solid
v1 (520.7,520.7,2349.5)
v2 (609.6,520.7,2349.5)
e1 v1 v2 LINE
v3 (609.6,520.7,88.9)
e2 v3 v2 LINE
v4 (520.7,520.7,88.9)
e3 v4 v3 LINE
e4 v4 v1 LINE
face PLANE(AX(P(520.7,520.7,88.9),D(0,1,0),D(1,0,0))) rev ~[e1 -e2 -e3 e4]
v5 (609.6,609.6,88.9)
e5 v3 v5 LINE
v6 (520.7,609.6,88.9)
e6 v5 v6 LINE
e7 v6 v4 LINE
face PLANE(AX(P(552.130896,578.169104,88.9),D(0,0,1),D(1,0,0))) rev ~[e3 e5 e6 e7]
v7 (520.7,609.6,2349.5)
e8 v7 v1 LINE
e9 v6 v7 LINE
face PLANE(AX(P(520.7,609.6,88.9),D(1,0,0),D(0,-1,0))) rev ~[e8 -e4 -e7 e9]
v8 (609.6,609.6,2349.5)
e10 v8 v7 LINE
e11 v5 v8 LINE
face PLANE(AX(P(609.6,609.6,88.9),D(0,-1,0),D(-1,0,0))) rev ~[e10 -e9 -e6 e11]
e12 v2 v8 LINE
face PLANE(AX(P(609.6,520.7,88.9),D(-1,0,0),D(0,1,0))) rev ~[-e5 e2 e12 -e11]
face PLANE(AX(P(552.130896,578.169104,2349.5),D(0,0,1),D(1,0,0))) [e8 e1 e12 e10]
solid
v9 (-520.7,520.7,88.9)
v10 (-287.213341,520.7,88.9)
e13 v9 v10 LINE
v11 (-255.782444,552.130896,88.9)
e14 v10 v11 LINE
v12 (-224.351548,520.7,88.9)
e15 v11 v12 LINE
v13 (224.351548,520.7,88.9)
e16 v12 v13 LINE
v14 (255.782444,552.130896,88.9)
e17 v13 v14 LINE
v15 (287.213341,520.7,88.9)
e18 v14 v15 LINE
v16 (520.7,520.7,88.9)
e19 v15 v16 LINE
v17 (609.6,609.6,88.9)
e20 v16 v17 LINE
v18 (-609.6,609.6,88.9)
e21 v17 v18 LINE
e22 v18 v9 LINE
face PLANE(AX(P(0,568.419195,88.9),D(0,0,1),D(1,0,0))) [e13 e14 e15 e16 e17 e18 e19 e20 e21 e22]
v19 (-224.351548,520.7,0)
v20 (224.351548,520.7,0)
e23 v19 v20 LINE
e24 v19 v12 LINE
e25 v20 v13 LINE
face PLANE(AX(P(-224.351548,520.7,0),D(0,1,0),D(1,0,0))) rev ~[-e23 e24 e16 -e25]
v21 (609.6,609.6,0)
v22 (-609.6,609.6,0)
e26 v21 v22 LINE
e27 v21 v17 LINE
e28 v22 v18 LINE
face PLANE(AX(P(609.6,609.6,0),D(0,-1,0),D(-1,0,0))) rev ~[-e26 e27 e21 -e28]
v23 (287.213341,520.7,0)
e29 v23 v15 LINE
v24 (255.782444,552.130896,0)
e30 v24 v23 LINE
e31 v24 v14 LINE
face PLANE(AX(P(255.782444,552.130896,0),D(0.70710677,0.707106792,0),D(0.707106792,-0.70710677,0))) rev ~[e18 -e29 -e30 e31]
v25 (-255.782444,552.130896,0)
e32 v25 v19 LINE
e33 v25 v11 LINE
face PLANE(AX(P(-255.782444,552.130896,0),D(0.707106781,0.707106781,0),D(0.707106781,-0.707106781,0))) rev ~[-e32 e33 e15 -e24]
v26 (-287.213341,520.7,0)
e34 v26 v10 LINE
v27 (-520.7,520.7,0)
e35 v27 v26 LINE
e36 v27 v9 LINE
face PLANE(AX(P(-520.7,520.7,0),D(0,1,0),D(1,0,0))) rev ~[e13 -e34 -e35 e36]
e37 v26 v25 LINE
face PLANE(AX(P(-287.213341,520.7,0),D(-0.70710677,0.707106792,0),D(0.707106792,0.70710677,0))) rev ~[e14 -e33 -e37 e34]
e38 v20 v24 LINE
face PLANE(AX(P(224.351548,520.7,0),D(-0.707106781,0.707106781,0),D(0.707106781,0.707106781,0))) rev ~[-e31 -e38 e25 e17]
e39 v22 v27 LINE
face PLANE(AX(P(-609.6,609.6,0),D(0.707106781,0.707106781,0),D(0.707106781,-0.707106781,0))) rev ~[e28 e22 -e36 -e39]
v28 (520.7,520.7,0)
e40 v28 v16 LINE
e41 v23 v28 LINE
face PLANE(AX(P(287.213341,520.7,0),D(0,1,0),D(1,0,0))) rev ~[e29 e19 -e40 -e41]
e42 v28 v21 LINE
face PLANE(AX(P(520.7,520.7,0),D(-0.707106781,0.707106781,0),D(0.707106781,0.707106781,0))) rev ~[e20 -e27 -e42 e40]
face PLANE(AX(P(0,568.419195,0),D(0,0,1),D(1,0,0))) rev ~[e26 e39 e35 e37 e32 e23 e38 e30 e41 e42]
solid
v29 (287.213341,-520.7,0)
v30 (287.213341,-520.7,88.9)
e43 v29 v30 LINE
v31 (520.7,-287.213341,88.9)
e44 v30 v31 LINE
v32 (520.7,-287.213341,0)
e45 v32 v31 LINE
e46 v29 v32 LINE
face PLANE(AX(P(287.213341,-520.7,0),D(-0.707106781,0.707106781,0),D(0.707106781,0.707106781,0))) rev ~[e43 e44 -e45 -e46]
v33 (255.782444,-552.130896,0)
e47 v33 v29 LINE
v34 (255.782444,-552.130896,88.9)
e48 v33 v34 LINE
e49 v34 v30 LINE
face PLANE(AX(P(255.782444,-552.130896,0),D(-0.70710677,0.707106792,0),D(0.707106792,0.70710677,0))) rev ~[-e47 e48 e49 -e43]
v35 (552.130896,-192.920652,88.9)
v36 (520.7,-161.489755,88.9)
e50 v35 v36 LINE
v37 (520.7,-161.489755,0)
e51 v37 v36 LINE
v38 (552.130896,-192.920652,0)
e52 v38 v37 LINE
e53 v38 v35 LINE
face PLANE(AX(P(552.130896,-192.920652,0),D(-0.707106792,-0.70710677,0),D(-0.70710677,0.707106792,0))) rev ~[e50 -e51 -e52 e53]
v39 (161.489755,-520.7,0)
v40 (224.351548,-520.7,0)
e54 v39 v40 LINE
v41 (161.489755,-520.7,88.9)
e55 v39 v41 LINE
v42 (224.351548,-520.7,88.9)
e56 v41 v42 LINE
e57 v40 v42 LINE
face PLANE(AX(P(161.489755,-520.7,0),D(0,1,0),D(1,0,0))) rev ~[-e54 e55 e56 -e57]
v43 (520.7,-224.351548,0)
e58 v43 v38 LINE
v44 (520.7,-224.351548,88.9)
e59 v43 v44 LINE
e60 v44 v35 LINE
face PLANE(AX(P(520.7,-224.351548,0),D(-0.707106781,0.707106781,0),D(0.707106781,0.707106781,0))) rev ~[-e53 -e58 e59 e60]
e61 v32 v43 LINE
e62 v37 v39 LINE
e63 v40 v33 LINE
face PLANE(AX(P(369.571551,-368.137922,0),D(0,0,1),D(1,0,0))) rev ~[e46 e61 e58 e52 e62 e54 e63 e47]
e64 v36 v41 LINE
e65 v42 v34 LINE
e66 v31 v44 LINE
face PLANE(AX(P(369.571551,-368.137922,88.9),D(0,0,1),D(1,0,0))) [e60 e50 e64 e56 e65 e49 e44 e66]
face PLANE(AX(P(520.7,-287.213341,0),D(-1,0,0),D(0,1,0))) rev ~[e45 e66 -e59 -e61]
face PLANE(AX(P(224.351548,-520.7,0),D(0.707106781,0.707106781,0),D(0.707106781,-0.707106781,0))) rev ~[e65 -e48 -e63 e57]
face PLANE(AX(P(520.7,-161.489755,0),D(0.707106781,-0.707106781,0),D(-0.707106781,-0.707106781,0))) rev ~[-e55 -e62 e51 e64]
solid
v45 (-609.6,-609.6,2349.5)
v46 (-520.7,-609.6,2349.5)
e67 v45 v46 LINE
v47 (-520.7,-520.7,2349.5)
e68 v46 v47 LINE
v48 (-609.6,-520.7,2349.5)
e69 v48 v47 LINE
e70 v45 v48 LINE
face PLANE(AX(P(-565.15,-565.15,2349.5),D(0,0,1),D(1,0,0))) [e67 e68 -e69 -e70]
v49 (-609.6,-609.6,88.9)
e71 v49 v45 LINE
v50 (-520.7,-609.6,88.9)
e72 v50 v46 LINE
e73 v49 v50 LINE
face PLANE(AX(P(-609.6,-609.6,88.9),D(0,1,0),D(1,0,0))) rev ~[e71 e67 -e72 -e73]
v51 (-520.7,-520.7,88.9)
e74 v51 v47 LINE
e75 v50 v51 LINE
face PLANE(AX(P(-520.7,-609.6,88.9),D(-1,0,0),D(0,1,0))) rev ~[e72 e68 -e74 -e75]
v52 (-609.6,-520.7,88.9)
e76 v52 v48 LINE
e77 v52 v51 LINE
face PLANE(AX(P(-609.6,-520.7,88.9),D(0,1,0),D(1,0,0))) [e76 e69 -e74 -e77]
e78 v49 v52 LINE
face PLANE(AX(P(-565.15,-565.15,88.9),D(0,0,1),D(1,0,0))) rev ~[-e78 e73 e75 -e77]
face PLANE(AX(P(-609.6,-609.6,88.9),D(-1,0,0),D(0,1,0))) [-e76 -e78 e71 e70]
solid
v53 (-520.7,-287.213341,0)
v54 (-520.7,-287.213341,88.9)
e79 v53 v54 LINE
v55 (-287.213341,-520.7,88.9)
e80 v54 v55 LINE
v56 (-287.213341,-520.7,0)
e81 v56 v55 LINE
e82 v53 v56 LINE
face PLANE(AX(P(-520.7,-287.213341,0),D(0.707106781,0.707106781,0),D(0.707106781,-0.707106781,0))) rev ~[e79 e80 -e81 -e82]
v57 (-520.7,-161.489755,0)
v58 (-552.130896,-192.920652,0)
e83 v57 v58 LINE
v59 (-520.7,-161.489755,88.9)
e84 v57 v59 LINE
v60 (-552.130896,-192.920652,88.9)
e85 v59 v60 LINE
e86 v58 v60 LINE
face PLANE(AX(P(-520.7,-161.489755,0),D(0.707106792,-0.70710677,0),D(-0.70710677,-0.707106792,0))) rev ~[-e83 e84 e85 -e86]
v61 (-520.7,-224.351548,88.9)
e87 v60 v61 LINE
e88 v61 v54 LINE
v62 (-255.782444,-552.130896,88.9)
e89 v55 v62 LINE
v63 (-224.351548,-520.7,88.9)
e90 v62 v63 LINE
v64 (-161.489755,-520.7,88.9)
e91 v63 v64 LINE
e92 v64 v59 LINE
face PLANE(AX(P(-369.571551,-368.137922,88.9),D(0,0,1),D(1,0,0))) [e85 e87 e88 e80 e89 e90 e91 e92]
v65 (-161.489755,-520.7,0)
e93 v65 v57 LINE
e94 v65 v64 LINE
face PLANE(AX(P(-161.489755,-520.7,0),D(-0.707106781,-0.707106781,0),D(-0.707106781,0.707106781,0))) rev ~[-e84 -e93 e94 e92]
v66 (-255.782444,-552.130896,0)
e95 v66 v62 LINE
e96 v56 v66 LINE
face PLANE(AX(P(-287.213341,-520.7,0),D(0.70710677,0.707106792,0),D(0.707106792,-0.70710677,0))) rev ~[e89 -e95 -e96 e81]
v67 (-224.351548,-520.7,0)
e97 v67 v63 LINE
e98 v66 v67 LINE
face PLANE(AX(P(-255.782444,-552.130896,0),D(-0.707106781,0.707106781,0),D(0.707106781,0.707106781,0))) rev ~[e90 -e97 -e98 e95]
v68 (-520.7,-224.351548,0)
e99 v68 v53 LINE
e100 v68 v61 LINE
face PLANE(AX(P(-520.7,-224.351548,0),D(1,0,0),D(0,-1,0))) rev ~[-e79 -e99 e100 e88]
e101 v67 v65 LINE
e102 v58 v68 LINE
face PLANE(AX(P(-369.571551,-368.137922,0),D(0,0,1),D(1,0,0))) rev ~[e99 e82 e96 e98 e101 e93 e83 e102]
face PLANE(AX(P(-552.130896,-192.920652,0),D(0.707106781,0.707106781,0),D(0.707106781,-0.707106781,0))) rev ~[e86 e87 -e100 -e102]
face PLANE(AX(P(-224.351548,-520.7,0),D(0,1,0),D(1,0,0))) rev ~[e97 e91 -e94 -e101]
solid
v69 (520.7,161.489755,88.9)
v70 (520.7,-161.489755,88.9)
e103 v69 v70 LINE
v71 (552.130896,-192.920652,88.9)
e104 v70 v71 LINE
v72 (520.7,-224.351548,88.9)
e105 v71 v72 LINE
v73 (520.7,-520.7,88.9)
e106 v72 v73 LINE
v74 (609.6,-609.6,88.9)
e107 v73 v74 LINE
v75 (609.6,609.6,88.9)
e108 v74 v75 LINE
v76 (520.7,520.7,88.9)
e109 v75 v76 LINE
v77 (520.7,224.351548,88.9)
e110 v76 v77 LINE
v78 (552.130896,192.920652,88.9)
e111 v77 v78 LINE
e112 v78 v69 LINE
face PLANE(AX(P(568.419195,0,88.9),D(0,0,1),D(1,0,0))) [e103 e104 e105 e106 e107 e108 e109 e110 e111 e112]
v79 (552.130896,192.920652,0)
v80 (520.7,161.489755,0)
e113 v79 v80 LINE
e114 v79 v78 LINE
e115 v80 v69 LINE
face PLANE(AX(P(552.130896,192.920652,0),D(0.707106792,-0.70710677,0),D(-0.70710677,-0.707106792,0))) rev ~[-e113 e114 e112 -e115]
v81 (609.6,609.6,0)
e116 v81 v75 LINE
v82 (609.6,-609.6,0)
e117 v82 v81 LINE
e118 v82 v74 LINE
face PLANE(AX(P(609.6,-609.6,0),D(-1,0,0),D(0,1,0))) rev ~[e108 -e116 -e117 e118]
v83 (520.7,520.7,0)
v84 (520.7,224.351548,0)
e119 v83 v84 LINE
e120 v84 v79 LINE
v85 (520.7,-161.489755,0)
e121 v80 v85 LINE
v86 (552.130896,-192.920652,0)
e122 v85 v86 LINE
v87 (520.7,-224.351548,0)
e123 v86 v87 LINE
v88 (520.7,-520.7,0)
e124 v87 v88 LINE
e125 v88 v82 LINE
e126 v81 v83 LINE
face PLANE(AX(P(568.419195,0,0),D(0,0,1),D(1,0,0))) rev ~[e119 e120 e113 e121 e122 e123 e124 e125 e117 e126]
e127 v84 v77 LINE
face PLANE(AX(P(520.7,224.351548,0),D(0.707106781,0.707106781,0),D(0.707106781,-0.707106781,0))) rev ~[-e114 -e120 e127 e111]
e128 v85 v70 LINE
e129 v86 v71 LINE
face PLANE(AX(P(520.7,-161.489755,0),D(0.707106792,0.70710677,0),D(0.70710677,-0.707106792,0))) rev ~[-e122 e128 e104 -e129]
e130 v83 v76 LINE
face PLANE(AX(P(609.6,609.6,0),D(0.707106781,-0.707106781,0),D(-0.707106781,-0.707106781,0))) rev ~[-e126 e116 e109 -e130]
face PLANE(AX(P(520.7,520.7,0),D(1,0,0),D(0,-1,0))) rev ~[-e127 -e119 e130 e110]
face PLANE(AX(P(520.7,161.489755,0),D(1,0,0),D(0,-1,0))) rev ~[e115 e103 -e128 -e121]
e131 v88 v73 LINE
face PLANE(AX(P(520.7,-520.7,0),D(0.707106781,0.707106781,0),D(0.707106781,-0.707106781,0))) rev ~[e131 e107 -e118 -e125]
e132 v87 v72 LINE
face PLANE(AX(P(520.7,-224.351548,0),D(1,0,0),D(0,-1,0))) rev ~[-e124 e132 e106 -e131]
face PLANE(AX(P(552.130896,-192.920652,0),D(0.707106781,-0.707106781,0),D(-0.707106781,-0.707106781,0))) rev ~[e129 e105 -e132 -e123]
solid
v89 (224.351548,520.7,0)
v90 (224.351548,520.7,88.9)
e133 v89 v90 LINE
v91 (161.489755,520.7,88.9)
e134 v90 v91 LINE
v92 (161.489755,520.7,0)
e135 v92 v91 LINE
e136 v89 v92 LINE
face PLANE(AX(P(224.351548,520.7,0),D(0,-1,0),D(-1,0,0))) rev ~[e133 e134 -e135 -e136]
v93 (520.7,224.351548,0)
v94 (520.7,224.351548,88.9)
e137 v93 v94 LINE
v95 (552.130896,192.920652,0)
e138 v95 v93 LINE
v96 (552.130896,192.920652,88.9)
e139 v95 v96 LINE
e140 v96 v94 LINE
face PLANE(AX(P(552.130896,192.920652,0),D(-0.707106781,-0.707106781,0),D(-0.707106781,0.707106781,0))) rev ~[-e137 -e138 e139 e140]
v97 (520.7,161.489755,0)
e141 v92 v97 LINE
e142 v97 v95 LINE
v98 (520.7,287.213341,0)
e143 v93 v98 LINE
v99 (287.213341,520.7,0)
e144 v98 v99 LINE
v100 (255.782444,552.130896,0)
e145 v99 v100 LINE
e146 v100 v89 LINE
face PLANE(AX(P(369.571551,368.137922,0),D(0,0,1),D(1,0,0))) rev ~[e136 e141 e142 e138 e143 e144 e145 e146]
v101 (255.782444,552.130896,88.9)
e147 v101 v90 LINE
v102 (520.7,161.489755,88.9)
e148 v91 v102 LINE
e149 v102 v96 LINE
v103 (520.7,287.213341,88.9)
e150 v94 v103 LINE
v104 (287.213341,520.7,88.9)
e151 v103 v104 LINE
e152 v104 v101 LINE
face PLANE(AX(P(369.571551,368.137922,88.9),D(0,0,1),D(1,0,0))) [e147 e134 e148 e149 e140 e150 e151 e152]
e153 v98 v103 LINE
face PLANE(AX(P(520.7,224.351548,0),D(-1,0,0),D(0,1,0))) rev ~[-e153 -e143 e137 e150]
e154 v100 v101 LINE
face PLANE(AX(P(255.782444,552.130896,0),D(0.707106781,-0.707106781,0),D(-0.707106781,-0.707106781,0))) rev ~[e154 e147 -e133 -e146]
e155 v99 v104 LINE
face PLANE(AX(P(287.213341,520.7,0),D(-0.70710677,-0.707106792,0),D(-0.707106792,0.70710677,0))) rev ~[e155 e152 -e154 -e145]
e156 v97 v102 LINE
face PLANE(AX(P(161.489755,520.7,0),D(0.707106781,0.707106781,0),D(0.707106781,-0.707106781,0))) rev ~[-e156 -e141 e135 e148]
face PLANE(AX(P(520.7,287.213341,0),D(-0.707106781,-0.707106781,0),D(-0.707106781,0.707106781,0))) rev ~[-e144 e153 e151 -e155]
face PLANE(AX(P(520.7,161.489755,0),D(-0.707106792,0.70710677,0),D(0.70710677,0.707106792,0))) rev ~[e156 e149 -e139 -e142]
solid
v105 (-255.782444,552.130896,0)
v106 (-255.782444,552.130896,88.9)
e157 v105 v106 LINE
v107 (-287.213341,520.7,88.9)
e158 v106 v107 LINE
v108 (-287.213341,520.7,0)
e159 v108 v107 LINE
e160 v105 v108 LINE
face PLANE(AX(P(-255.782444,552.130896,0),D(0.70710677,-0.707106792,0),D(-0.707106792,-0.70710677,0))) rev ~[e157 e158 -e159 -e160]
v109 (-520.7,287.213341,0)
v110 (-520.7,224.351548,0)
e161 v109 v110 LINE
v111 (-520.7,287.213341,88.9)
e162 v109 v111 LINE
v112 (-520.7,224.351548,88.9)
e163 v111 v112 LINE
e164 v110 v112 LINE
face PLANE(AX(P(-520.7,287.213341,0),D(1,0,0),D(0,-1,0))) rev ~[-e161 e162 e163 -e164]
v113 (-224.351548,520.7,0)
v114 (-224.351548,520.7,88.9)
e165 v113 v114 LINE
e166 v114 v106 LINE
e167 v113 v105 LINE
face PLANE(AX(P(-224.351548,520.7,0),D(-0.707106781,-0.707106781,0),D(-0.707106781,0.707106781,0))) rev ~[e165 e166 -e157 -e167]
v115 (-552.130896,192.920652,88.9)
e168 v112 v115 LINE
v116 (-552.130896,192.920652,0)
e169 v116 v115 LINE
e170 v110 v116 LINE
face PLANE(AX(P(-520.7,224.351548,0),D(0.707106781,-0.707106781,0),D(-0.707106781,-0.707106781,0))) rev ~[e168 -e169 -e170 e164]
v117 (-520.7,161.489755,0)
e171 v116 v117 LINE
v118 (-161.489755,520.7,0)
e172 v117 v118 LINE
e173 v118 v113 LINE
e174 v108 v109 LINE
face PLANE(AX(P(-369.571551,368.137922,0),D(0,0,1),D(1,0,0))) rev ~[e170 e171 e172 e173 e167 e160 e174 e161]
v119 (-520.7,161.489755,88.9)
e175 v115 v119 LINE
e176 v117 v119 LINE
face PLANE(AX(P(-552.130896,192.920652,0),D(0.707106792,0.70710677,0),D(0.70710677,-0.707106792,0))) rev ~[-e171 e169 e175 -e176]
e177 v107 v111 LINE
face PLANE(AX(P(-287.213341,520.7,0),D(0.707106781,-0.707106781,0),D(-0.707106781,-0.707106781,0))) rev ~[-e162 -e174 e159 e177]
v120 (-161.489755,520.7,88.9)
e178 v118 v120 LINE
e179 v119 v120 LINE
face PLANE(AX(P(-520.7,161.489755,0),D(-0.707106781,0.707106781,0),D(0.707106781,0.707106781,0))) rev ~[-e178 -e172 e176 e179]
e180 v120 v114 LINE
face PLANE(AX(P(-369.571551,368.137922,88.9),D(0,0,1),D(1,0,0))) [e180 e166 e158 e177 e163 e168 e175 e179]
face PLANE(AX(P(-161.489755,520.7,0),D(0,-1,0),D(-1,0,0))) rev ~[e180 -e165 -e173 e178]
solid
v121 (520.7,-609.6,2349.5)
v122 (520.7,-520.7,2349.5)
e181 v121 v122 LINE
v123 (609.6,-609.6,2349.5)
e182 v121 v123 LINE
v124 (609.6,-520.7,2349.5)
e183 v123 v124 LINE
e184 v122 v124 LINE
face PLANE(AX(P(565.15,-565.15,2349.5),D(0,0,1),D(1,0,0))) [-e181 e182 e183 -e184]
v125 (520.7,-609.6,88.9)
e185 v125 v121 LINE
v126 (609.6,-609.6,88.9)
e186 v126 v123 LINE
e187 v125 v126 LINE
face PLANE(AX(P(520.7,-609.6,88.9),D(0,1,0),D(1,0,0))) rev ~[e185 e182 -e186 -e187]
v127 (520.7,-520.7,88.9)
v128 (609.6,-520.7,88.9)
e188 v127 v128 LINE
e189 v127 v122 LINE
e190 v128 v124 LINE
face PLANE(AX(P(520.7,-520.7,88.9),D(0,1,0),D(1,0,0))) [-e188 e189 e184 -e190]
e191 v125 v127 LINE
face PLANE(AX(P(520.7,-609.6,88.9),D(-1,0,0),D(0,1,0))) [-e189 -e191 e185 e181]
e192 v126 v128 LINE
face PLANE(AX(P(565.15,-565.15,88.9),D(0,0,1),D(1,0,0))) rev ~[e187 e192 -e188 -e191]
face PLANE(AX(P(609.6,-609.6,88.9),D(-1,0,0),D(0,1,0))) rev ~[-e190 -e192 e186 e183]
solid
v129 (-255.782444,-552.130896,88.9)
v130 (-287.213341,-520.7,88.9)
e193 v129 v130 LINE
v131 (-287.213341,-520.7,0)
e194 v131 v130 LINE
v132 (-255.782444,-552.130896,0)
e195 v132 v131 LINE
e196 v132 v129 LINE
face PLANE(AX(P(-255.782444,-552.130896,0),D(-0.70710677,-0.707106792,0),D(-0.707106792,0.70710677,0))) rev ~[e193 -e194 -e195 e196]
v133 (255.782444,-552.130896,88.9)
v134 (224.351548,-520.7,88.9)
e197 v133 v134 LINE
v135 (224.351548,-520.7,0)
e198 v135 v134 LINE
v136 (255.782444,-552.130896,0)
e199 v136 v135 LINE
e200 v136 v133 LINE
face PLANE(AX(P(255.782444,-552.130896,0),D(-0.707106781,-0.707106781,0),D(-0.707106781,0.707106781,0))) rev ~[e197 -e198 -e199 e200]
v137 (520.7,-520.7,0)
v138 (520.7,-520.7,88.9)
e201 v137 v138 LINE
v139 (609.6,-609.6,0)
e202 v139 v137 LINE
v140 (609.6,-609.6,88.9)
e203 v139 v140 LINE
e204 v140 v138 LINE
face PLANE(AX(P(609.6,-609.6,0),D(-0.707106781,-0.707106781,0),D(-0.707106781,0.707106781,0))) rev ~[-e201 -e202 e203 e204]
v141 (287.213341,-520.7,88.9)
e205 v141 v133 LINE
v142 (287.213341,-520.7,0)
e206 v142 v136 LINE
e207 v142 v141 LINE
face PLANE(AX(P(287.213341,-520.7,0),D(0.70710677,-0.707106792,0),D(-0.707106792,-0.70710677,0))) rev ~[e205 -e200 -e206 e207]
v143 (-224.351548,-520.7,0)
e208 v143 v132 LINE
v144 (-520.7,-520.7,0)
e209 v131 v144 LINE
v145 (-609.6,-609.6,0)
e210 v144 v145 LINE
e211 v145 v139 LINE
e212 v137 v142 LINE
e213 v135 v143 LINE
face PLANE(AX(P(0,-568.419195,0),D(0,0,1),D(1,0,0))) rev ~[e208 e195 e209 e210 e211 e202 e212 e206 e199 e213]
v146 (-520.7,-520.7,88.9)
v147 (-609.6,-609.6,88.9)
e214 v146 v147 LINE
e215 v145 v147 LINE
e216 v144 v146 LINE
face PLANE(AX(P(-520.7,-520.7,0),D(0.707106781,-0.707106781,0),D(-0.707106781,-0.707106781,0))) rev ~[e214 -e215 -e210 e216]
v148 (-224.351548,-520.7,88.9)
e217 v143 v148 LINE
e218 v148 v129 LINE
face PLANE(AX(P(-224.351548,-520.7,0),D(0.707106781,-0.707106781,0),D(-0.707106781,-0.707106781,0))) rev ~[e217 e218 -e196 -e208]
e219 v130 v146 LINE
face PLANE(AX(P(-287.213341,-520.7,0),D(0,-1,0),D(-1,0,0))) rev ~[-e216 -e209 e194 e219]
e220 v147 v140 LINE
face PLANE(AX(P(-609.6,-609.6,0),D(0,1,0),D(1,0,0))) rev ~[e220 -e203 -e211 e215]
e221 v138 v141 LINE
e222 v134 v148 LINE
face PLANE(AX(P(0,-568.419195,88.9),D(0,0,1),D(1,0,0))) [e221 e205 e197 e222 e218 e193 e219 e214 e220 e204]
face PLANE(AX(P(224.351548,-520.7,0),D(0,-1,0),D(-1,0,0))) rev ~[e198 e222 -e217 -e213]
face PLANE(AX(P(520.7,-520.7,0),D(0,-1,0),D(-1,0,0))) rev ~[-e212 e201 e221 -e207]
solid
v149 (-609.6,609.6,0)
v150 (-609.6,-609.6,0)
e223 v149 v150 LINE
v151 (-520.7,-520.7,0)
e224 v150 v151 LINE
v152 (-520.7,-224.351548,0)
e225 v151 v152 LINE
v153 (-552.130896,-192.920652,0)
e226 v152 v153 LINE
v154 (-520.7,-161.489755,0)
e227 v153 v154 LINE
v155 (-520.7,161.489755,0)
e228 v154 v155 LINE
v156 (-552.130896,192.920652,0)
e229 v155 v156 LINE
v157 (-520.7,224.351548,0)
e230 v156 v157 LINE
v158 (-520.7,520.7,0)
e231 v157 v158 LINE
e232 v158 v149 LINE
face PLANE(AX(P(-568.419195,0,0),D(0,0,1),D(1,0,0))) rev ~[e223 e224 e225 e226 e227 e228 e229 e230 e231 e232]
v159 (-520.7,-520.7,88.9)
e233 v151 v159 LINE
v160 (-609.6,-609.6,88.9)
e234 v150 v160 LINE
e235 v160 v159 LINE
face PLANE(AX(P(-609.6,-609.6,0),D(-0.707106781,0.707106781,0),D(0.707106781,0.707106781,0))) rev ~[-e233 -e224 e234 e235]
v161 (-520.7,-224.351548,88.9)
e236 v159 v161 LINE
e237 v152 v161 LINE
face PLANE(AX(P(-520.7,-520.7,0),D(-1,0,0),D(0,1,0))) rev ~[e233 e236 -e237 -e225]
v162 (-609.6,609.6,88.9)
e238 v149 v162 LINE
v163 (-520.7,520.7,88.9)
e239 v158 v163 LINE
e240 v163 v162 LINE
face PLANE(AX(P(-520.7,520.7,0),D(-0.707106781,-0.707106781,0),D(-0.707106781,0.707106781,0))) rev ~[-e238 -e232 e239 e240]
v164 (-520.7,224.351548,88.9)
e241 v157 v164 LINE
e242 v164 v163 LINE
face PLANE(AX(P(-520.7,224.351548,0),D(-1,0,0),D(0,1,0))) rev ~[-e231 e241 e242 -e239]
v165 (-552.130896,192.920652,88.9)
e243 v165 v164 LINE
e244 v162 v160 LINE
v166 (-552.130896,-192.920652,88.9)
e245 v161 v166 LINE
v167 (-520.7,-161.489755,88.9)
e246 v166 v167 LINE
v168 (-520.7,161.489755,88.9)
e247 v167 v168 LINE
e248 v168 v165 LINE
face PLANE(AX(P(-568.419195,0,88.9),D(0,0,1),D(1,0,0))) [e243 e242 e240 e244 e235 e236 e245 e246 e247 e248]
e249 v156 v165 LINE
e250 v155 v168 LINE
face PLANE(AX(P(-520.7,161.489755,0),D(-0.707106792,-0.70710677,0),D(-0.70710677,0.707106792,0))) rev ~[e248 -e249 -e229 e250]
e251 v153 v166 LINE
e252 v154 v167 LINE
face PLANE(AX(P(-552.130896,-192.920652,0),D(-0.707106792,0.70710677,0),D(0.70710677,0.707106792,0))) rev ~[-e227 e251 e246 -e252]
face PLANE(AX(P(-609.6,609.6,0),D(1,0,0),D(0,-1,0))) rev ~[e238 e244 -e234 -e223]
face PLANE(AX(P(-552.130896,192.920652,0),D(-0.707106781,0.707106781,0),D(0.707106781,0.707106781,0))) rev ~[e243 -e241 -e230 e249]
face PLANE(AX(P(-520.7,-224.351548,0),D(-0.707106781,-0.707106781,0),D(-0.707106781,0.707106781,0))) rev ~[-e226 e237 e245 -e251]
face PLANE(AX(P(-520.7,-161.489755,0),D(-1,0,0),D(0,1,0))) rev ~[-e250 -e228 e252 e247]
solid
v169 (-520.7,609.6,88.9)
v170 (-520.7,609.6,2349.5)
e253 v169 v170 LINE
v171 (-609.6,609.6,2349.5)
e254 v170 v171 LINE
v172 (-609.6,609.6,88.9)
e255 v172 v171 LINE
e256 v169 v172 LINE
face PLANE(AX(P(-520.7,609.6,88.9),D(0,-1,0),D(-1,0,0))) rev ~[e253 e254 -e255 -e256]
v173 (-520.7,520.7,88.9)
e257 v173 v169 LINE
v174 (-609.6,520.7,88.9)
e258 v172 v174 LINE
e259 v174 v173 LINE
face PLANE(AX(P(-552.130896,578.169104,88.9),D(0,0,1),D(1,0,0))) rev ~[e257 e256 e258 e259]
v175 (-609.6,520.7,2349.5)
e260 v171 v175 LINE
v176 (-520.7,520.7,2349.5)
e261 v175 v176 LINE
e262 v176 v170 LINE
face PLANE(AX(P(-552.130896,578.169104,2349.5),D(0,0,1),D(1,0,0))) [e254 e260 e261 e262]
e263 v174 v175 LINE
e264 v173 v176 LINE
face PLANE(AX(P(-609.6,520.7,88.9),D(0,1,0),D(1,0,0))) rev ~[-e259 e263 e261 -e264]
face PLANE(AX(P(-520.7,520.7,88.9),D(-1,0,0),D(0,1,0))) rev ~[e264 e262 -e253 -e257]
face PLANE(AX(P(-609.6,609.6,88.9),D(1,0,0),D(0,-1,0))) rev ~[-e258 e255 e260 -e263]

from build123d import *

# Parameters (mm, degrees)
F1_DEPTH  = 88.9
F2_DEPTH  = 88.9
F3_DEPTH  = 88.9
F4_DEPTH  = 88.9
F5_DEPTH  = 88.9
F6_DEPTH  = 88.9
F7_DEPTH  = 88.9
F8_DEPTH  = 88.9
F10_DEPTH = 2260.6
F11_DEPTH = 2260.6
F9_W      = 88.9
F9_H      = 88.9
F12_DEPTH = 2260.6
F13_DEPTH = 2260.6


with BuildPart() as f1:
    # F0 (on Top) → F1 (new body)
    with BuildSketch(Plane.XY):
        Polygon((520.7, 520.7), (609.6, 609.6), (-609.6, 609.6), (-520.7, 520.7), (-287.213341, 520.7), (-255.782444, 552.130896), (-224.351548, 520.7), (-161.489755, 520.7), (161.489755, 520.7), (224.351548, 520.7), (255.782444, 552.130896), (287.213341, 520.7), align=None)
    extrude(amount=F1_DEPTH)


with BuildPart() as f2:
    # F0 (on Top) → F2 (new body)
    with BuildSketch(Plane.XY):
        Polygon((-520.7, 520.7), (-609.6, 609.6), (-609.6, -609.6), (-520.7, -520.7), (-520.7, -287.213341), (-520.7, -224.351548), (-552.130896, -192.920652), (-520.7, -161.489755), (-520.7, 161.489755), (-552.130896, 192.920652), (-520.7, 224.351548), (-520.7, 287.213341), align=None)
    extrude(amount=F2_DEPTH)


with BuildPart() as f3:
    # F0 (on Top) → F3 (new body)
    with BuildSketch(Plane.XY):
        Polygon((-609.6, -609.6), (609.6, -609.6), (520.7, -520.7), (287.213341, -520.7), (255.782444, -552.130896), (224.351548, -520.7), (161.489755, -520.7), (-161.489755, -520.7), (-224.351548, -520.7), (-255.782444, -552.130896), (-287.213341, -520.7), (-520.7, -520.7), align=None)
    extrude(amount=F3_DEPTH)


with BuildPart() as f4:
    # F0 (on Top) → F4 (new body)
    with BuildSketch(Plane.XY):
        Polygon((609.6, -609.6), (609.6, 609.6), (520.7, 520.7), (520.7, 287.213341), (520.7, 224.351548), (552.130896, 192.920652), (520.7, 161.489755), (520.7, -161.489755), (552.130896, -192.920652), (520.7, -224.351548), (520.7, -287.213341), (520.7, -520.7), align=None)
    extrude(amount=F4_DEPTH)


with BuildPart() as f5:
    # F0 (on Top) → F5 (new body)
    with BuildSketch(Plane.XY):
        Polygon((-287.213341, 520.7), (-520.7, 287.213341), (-520.7, 224.351548), (-552.130896, 192.920652), (-520.7, 161.489755), (-161.489755, 520.7), (-224.351548, 520.7), (-255.782444, 552.130896), align=None)
    extrude(amount=F5_DEPTH)


with BuildPart() as f6:
    # F0 (on Top) → F6 (new body)
    with BuildSketch(Plane.XY):
        Polygon((520.7, 287.213341), (287.213341, 520.7), (255.782444, 552.130896), (224.351548, 520.7), (161.489755, 520.7), (520.7, 161.489755), (552.130896, 192.920652), (520.7, 224.351548), align=None)
    extrude(amount=F6_DEPTH)


with BuildPart() as f7:
    # F0 (on Top) → F7 (new body)
    with BuildSketch(Plane.XY):
        Polygon((-520.7, -287.213341), (-287.213341, -520.7), (-255.782444, -552.130896), (-224.351548, -520.7), (-161.489755, -520.7), (-520.7, -161.489755), (-552.130896, -192.920652), (-520.7, -224.351548), align=None)
    extrude(amount=F7_DEPTH)


with BuildPart() as f8:
    # F0 (on Top) → F8 (new body)
    with BuildSketch(Plane.XY):
        Polygon((255.782444, -552.130896), (287.213341, -520.7), (520.7, -287.213341), (520.7, -224.351548), (552.130896, -192.920652), (520.7, -161.489755), (161.489755, -520.7), (224.351548, -520.7), align=None)
    extrude(amount=F8_DEPTH)


with BuildPart() as f10:
    # F9 (on face) → F10 (new body)
    with BuildSketch(Plane.XY.offset(88.9)):
        Polygon((-520.7, 609.6), (-609.6, 609.6), (-520.7, 520.7), align=None)
        Polygon((-520.7, 520.7), (-609.6, 609.6), (-609.6, 520.7), align=None)
    extrude(amount=F10_DEPTH)


with BuildPart() as f11:
    # F9 (on face) → F11 (new body)
    with BuildSketch(Plane.XY.offset(88.9)):
        Polygon((609.6, 609.6), (520.7, 609.6), (520.7, 520.7), align=None)
        Polygon((609.6, 520.7), (609.6, 609.6), (520.7, 520.7), align=None)
    extrude(amount=F11_DEPTH)


with BuildPart() as f12:
    # F9 (on face) → F12 (new body)
    with BuildSketch(Plane.XY.offset(88.9)):
        with Locations((-565.15, -565.15)):
            Rectangle(F9_W, F9_H)
    extrude(amount=F12_DEPTH)


with BuildPart() as f13:
    # F9 (on face) → F13 (new body)
    with BuildSketch(Plane.XY.offset(88.9)):
        with Locations((565.15, -565.15)):
            Rectangle(F9_W, F9_H)
    extrude(amount=F13_DEPTH)


solid = Compound([f1.part, f2.part, f3.part, f4.part, f5.part, f6.part, f7.part, f8.part, f10.part, f11.part, f12.part, f13.part])
